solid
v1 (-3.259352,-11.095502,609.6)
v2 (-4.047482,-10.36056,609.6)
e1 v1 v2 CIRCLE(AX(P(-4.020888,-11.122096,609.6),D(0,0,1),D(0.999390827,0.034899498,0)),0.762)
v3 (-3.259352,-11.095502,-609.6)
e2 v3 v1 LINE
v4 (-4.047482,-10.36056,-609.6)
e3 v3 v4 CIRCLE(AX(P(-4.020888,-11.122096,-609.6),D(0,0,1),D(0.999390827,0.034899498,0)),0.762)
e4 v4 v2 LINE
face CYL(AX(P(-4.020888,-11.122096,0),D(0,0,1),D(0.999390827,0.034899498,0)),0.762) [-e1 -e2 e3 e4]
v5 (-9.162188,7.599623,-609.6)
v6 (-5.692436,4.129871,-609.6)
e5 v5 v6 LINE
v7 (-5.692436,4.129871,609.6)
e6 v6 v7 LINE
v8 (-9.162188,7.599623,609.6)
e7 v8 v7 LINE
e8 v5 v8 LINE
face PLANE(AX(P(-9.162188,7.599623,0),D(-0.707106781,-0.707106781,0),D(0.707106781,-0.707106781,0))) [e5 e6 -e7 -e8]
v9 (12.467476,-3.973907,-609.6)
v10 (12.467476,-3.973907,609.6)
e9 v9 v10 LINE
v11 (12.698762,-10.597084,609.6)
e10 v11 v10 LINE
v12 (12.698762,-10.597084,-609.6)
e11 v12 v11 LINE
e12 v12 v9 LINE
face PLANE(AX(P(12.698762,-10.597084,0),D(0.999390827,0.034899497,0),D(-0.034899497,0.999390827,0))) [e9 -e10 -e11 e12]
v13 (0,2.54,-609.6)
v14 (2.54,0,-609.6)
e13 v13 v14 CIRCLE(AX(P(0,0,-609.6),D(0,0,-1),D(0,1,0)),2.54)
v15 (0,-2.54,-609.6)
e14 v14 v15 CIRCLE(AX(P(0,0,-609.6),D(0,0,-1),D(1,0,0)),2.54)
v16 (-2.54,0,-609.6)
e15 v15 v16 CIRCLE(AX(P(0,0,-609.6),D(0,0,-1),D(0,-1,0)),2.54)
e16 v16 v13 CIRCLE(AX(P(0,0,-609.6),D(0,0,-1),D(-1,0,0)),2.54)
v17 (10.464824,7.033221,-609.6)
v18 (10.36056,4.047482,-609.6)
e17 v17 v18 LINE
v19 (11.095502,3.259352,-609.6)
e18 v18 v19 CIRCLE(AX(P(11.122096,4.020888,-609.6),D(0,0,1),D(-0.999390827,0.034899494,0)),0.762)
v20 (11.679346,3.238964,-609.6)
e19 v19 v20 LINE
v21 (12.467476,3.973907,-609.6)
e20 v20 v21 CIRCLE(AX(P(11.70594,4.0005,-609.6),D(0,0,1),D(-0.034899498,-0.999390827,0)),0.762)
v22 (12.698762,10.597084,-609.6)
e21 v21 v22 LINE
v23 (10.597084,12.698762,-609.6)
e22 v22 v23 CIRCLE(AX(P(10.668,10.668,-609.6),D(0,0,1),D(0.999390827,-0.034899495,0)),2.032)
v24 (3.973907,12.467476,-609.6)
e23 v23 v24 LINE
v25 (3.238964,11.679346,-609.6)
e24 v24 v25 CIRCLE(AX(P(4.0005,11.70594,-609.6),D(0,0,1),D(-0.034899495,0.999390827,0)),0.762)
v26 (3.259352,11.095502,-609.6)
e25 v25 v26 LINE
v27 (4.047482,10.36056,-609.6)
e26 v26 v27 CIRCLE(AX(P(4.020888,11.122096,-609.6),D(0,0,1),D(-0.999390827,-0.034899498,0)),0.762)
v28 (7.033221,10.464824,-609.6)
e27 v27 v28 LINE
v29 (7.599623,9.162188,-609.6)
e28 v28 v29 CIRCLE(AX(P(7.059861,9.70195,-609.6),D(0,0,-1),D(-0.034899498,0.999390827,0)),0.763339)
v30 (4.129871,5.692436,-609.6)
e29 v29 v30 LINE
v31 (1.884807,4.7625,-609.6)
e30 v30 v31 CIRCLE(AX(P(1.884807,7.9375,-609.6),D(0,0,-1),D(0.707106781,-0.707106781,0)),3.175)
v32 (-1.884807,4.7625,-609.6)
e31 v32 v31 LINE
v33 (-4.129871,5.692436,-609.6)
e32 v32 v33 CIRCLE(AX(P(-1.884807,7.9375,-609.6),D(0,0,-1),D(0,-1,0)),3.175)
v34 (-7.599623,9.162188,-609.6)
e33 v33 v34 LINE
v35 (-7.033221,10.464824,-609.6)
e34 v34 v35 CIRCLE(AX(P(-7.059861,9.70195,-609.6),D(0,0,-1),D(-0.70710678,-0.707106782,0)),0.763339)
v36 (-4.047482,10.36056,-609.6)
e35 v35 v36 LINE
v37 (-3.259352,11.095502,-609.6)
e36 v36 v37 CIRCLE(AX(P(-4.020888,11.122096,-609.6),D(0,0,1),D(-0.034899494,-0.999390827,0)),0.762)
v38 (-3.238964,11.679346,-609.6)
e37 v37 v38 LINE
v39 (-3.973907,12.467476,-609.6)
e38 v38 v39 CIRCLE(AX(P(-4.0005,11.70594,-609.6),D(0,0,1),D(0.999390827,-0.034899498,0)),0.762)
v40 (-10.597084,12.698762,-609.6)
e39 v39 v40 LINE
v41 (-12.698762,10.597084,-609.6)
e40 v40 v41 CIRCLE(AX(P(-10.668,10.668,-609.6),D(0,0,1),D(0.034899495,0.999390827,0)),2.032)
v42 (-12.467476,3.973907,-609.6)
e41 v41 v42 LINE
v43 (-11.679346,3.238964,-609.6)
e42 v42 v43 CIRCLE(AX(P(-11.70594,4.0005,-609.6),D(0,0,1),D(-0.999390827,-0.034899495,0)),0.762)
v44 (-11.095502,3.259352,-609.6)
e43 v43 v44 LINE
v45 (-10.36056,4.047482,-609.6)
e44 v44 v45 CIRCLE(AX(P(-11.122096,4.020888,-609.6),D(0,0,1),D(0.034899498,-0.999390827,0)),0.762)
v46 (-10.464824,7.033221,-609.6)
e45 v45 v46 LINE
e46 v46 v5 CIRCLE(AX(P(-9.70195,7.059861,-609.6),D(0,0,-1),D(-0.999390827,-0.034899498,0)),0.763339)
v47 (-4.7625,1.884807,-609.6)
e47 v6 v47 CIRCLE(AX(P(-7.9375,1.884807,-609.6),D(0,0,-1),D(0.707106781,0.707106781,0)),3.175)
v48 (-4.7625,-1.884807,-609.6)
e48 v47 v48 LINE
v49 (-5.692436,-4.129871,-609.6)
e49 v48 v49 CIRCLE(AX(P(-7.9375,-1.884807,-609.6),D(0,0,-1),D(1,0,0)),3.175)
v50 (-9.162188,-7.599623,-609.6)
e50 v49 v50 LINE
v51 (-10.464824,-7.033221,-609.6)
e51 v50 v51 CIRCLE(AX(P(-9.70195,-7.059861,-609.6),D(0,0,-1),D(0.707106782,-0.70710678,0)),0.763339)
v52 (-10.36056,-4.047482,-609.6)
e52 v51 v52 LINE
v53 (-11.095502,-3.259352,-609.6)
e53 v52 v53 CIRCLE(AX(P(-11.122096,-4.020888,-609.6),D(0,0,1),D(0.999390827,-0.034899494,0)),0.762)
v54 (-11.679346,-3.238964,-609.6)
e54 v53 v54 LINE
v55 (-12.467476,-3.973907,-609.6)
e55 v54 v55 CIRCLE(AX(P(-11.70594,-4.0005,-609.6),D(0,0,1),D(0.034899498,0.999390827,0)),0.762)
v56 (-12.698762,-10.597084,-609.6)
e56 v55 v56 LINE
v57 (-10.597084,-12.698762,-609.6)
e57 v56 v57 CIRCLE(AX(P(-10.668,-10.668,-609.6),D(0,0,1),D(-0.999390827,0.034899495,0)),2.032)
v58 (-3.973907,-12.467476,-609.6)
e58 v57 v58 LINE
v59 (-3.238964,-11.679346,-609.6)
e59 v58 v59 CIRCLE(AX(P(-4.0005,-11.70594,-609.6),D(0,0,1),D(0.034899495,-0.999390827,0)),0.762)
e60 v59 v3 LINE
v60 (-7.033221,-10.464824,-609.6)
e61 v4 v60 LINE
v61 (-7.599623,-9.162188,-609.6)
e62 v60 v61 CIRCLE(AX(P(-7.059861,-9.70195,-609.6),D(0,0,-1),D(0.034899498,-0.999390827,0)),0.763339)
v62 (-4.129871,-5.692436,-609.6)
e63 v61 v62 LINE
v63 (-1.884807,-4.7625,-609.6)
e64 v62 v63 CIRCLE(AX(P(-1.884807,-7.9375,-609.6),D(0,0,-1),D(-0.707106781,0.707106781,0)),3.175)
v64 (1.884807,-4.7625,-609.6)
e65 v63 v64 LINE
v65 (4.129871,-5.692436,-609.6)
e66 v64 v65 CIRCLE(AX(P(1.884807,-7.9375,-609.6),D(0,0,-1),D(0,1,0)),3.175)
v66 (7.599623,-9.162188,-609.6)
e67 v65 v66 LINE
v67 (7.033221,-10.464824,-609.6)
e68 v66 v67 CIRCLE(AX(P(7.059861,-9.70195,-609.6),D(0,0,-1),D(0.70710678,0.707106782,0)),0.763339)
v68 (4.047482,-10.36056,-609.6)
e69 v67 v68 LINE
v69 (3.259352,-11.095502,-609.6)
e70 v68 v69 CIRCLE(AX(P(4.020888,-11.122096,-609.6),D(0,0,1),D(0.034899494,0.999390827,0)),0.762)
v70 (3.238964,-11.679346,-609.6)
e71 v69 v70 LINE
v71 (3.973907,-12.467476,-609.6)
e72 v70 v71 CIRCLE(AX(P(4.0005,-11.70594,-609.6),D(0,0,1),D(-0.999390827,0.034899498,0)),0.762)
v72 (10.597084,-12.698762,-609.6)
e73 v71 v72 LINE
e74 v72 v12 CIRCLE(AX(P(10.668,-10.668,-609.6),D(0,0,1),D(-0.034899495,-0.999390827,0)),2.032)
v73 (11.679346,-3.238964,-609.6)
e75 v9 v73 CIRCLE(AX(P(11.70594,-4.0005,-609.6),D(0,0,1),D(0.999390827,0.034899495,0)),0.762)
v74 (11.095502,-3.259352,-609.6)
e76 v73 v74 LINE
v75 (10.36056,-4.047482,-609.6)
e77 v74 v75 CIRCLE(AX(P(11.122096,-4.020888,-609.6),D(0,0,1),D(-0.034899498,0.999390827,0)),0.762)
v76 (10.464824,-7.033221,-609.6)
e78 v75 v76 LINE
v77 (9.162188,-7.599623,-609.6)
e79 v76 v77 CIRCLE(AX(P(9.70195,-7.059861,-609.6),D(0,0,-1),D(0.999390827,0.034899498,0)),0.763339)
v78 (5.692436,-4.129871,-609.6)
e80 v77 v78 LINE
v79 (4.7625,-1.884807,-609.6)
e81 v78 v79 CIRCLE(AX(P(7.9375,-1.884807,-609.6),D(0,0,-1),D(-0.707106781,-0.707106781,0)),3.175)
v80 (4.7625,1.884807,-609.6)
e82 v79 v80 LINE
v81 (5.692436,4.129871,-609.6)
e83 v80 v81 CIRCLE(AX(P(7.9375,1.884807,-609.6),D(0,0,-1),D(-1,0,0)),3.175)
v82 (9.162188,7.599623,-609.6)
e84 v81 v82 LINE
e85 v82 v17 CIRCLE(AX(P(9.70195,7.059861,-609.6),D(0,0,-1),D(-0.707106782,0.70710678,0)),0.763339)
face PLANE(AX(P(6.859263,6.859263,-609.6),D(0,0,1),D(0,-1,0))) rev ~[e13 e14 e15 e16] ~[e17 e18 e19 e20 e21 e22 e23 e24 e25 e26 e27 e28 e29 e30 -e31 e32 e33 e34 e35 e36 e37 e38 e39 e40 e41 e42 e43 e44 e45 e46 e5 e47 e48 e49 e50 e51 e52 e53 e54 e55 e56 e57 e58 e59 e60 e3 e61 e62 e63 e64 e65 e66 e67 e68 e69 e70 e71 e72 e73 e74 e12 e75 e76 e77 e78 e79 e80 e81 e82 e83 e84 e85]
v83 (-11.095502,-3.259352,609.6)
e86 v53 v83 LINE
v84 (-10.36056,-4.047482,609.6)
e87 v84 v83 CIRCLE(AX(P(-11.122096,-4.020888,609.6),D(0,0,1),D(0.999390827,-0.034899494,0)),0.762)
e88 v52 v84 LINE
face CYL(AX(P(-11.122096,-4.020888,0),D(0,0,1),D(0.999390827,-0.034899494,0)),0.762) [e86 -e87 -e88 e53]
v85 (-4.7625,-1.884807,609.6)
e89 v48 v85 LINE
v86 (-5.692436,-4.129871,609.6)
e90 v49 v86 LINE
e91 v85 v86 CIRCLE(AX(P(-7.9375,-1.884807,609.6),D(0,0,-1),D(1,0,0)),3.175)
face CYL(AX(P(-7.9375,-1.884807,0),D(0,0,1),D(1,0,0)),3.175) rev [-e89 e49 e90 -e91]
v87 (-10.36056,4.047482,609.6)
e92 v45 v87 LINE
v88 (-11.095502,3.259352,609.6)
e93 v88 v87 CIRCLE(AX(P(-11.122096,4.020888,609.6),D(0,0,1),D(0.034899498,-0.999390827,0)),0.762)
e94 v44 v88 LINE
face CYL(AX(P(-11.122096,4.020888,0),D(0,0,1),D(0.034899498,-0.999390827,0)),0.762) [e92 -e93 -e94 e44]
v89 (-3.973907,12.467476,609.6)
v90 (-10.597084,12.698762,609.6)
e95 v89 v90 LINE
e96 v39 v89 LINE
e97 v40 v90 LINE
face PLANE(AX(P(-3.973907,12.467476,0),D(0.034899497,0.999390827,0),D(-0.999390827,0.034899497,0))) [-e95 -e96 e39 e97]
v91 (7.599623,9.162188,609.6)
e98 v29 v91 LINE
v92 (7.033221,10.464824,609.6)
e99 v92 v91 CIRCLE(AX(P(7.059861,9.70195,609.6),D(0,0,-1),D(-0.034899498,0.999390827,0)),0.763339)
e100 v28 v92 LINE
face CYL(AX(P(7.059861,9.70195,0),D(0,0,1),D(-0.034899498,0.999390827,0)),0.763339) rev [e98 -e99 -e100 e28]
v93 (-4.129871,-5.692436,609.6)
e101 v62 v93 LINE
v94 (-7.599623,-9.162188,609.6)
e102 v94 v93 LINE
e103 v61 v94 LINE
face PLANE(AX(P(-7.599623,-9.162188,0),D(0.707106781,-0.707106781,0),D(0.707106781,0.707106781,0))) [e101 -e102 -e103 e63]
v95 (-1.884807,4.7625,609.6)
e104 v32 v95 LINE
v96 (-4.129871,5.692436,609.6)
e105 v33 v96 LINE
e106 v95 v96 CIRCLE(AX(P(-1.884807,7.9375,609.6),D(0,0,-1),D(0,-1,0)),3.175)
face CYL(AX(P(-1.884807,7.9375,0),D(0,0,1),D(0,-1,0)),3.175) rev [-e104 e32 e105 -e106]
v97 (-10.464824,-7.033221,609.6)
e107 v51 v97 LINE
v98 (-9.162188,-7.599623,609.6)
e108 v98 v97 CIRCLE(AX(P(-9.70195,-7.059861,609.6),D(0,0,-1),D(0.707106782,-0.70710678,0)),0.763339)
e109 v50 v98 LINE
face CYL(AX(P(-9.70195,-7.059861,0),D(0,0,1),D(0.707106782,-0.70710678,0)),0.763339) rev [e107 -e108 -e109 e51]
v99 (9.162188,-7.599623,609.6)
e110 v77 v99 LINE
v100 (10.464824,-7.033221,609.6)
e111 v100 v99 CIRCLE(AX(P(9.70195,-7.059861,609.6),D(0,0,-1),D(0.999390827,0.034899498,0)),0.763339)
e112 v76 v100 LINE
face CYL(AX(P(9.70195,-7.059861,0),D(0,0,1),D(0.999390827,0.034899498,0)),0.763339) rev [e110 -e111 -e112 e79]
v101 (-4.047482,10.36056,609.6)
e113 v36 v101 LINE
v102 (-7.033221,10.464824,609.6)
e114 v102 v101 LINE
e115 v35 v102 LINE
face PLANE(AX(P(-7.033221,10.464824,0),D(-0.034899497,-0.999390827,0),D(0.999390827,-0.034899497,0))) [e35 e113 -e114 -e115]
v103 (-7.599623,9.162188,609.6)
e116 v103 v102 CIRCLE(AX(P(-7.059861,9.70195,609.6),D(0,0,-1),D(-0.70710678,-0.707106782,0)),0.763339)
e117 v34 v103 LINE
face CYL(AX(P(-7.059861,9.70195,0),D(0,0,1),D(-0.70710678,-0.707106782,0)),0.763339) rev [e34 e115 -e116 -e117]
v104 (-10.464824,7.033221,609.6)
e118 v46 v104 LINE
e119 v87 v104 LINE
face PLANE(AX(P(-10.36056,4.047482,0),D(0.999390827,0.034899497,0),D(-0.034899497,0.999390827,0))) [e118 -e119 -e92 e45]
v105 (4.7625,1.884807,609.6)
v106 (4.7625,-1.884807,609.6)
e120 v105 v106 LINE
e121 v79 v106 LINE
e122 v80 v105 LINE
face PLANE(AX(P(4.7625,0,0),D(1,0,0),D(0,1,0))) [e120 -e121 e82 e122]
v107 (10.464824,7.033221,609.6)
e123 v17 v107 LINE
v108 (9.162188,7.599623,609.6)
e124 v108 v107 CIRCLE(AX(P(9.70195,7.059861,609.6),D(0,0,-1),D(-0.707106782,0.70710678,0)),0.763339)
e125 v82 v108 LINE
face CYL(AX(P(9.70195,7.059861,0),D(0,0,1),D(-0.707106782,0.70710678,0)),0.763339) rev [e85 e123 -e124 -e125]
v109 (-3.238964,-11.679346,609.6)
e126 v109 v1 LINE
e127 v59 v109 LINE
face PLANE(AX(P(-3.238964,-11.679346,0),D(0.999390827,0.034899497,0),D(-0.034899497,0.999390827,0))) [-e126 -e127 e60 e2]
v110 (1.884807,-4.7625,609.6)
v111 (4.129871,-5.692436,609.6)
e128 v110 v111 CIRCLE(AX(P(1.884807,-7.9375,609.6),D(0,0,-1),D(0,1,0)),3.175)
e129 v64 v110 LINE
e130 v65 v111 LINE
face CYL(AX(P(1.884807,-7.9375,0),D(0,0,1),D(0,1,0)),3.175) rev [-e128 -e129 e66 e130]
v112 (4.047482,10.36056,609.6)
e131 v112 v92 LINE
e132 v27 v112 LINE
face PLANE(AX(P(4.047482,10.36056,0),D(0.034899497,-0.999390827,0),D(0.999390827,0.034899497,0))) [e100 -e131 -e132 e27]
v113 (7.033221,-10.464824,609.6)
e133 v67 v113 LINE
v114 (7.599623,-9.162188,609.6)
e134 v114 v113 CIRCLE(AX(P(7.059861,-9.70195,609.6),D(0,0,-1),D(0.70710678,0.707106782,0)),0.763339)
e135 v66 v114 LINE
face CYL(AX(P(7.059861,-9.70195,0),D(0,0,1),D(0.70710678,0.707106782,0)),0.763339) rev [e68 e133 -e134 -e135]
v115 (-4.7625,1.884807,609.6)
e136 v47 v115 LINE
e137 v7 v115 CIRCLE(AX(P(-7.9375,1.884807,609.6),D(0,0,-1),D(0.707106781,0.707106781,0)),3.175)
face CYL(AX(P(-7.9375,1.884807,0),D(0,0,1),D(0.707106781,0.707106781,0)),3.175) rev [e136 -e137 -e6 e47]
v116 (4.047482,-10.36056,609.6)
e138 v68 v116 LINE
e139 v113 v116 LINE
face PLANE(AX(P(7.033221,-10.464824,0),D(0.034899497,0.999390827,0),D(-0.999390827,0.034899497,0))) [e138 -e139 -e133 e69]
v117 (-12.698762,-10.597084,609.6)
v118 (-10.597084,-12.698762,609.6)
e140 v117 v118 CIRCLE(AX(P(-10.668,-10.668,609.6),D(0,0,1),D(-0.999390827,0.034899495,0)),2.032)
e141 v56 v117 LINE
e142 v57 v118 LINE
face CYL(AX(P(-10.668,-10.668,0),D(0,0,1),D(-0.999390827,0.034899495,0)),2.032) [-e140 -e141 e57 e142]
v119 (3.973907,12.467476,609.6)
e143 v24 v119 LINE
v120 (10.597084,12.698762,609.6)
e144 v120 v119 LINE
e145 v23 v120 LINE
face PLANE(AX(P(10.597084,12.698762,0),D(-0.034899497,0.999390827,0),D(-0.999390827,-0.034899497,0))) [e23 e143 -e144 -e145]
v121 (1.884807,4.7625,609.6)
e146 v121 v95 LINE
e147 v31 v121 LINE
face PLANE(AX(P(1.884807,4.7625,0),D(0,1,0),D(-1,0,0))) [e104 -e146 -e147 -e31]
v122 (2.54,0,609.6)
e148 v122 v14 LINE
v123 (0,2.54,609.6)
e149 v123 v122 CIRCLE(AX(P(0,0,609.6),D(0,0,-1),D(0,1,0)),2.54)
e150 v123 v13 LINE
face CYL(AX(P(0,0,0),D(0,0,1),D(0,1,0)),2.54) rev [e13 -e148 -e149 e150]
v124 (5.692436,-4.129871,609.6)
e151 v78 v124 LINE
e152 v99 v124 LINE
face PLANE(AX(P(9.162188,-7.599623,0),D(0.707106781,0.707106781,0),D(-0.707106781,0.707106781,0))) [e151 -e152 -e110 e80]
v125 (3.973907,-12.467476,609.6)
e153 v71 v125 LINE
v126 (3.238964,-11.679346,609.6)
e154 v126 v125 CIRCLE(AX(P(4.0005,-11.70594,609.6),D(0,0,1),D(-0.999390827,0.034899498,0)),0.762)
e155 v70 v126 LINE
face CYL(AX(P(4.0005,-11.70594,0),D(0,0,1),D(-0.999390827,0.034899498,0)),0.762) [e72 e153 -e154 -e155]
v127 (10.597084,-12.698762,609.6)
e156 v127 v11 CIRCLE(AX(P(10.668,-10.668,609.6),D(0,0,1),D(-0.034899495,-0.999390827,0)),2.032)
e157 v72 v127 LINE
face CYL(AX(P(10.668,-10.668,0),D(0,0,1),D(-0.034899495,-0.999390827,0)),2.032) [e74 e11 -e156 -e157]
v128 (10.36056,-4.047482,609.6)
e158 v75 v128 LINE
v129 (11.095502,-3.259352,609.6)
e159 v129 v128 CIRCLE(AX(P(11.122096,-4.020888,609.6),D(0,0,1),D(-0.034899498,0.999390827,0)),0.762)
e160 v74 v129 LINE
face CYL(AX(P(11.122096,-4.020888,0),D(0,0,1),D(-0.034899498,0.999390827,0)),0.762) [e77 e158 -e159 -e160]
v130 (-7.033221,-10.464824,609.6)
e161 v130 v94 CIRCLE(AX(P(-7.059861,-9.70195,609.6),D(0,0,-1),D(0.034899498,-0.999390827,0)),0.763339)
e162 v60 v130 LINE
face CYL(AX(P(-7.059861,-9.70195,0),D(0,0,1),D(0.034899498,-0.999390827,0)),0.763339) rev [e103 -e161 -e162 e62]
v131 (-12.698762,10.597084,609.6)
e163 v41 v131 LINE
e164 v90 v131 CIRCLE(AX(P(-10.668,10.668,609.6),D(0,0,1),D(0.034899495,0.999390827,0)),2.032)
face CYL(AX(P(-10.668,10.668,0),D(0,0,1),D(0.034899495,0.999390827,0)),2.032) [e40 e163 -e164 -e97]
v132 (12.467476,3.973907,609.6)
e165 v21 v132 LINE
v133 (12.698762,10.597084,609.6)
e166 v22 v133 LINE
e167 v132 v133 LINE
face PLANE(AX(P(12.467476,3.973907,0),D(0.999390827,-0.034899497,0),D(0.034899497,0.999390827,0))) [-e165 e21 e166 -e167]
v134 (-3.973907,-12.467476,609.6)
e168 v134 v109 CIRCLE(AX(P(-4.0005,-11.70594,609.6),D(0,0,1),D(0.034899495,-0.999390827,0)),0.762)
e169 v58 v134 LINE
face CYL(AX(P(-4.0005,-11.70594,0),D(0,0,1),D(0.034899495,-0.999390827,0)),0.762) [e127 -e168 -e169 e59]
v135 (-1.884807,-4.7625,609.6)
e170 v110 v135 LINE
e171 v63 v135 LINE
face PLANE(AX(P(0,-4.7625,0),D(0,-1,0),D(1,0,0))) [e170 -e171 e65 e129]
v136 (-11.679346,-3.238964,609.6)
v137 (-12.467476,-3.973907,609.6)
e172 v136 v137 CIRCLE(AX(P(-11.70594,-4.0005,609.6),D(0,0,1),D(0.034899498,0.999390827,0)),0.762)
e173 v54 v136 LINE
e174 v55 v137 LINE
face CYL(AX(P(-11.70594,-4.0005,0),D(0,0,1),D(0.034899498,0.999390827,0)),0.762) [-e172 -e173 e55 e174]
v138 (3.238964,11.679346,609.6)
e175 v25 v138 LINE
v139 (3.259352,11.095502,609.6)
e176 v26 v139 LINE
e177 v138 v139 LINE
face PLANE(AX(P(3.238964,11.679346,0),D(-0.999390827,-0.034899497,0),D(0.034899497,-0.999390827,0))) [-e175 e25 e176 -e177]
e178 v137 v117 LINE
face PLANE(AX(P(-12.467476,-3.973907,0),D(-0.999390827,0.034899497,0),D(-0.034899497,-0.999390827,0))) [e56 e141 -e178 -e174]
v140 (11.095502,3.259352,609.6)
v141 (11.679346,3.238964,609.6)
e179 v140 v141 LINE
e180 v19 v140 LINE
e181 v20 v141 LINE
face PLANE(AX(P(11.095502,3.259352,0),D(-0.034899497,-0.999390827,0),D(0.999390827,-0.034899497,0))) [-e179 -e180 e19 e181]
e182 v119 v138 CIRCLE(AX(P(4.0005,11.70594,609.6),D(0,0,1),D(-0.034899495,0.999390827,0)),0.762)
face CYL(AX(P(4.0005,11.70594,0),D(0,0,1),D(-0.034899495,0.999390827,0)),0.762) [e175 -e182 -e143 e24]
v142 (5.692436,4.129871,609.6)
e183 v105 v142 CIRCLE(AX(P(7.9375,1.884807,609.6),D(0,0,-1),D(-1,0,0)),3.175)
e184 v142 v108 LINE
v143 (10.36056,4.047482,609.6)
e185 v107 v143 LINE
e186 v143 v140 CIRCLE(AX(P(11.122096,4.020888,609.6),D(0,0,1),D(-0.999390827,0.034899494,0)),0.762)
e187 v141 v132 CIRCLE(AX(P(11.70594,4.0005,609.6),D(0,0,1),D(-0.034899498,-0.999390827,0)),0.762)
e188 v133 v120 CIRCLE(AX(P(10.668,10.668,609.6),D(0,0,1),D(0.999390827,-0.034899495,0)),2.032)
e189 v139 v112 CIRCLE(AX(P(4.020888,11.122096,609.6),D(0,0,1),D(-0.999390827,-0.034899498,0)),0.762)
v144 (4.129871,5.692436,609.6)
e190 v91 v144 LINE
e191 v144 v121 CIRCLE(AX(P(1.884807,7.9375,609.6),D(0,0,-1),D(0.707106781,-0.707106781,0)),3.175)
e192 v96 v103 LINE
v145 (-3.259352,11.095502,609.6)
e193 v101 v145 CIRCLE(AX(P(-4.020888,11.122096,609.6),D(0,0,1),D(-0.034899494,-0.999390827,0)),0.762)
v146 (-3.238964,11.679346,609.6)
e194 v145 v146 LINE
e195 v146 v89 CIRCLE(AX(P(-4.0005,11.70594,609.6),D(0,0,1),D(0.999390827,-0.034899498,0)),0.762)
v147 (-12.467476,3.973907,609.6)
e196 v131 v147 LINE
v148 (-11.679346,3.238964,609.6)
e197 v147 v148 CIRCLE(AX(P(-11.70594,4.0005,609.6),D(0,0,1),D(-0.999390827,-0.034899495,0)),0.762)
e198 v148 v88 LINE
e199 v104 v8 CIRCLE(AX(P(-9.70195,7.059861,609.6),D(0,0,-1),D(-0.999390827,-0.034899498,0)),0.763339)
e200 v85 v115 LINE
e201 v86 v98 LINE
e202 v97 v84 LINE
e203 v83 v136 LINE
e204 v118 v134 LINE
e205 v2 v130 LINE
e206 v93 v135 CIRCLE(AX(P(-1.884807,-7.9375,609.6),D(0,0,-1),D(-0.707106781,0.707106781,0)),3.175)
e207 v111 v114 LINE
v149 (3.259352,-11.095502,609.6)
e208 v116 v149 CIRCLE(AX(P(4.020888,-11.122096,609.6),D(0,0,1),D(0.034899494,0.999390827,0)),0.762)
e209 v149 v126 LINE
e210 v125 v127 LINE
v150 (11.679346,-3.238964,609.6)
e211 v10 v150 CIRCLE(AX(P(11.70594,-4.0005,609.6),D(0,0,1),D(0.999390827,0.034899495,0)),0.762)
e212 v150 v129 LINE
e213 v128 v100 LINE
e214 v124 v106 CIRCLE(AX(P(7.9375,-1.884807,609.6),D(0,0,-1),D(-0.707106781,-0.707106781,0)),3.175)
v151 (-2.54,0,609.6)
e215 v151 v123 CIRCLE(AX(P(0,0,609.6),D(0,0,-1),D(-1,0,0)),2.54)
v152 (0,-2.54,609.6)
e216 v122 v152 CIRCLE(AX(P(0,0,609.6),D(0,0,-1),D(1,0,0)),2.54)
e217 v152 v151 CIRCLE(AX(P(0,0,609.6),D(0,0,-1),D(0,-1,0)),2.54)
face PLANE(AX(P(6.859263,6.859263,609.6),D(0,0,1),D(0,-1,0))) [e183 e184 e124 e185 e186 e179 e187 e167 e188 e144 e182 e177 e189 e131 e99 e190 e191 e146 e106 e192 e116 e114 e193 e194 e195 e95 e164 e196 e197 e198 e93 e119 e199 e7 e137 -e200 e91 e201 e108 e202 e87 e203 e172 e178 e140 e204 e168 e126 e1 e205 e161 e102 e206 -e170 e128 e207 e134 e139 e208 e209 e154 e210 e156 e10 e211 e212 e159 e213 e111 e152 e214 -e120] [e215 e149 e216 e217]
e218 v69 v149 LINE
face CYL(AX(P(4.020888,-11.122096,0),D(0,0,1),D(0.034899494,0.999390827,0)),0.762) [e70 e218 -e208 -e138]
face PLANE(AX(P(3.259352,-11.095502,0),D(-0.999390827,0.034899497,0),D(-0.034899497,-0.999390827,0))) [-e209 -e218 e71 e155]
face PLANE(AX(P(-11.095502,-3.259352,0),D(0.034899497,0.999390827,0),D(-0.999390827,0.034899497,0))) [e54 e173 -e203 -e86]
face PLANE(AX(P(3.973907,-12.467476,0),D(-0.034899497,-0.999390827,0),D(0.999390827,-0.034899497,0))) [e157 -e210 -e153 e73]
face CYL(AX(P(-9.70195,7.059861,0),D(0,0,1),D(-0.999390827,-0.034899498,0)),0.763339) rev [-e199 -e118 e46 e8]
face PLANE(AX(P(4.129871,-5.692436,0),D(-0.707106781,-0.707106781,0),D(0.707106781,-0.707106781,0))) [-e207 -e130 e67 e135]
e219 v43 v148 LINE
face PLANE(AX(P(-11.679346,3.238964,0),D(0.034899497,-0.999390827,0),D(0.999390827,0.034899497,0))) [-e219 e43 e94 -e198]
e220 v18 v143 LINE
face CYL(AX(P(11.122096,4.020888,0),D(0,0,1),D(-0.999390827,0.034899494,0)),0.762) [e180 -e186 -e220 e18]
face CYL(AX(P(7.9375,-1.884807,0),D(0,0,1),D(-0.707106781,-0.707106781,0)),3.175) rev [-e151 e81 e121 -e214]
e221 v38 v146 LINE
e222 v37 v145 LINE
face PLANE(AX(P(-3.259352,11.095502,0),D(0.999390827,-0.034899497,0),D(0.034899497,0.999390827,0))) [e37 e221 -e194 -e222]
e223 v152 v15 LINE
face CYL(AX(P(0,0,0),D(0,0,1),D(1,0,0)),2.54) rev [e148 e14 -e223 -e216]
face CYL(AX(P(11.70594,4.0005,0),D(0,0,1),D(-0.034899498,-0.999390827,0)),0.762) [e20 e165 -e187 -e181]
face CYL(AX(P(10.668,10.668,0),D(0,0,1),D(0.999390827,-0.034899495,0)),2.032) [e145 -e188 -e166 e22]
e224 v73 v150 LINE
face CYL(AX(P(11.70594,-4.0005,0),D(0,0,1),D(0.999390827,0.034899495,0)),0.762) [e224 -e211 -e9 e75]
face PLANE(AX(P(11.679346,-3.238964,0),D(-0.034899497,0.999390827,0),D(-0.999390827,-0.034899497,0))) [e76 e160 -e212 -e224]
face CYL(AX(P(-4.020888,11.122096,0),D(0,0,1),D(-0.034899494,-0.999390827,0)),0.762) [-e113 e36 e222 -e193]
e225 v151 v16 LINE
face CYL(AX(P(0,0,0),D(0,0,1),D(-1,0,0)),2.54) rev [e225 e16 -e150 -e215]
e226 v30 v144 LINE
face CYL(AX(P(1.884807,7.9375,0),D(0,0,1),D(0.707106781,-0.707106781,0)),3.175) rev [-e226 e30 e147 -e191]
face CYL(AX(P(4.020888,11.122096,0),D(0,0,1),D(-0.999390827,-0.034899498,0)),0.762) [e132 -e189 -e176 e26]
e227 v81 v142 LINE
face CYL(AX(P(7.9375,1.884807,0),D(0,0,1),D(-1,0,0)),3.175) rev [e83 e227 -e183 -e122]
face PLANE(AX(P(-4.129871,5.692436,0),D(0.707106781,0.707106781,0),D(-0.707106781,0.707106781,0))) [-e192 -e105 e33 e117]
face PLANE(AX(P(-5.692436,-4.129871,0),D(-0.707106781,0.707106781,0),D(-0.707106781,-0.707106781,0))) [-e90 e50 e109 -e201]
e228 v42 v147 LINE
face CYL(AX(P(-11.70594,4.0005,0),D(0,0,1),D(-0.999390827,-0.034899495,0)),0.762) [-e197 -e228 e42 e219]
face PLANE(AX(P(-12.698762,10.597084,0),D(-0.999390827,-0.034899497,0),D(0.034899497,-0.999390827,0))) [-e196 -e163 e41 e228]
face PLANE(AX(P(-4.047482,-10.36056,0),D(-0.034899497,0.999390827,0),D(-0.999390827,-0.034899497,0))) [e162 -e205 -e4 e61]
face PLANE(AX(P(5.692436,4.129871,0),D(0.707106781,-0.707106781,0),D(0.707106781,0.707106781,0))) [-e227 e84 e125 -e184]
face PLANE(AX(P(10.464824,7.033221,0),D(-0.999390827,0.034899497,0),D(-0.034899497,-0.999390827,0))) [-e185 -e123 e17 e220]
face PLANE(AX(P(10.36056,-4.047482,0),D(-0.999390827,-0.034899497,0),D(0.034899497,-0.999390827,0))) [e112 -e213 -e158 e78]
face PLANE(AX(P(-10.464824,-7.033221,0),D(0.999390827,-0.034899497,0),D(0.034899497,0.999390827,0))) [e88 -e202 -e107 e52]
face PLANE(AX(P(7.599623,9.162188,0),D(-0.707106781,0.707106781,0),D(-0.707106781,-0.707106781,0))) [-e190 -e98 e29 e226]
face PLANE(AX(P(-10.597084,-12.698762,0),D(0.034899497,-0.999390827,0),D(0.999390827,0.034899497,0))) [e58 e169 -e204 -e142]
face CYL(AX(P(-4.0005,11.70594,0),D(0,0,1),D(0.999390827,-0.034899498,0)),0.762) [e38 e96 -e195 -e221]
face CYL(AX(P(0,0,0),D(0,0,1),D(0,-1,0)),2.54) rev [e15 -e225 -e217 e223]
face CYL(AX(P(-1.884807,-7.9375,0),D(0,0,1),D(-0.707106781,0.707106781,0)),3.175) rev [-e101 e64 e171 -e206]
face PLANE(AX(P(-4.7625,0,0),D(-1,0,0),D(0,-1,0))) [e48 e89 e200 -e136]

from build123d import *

# Parameters (mm, degrees)
BOSS_EXTRUDE1_DEPTH = 609.6
CIRPATTERN1_COUNT   = 4


with BuildPart() as part:
    # Sketch3 → Boss-Extrude1 (new, symmetric)
    with BuildSketch(Plane.XY):
        with BuildLine():
            Line((0, 4.7625), (-1.884807374, 4.7625))
            ThreePointArc((-1.884807374, 4.7625), (-3.099827272, 5.004182484), (-4.129871405, 5.69243597))
            Line((-4.129871405, 5.69243597), (-7.599623114, 9.162187679))
            ThreePointArc((-7.599623114, 9.162187679), (-7.759888701, 10.006330839), (-7.033220609, 10.464824259))
            Line((-7.033220609, 10.464824259), (-4.047481702, 10.360559959))
            ThreePointArc((-4.047481702, 10.360559959), (-3.501205536, 10.564804249), (-3.259352476, 11.095502353))
            Line((-3.259352476, 11.095502353), (-3.23896419, 11.679346474))
            ThreePointArc((-3.23896419, 11.679346474), (-3.443208479, 12.225622641), (-3.973906584, 12.467475701))
            Line((-3.973906584, 12.467475701), (-10.597084223, 12.698762161))
            ThreePointArc((-10.597084223, 12.698762161), (-12.104840979, 12.104840979), (-12.698762161, 10.597084223))
            Line((-12.698762161, 10.597084223), (-12.467475701, 3.973906584))
            ThreePointArc((-12.467475701, 3.973906584), (-12.225622641, 3.443208479), (-11.679346474, 3.23896419))
            Line((-11.679346474, 3.23896419), (-11.095502353, 3.259352476))
            ThreePointArc((-11.095502353, 3.259352476), (-10.564804249, 3.501205536), (-10.360559959, 4.047481702))
            Line((-10.360559959, 4.047481702), (-10.464824259, 7.033220609))
            ThreePointArc((-10.464824259, 7.033220609), (-10.006330839, 7.759888701), (-9.162187679, 7.599623114))
            Line((-9.162187679, 7.599623114), (-5.69243597, 4.129871405))
            ThreePointArc((-5.69243597, 4.129871405), (-5.004182484, 3.099827272), (-4.7625, 1.884807374))
            Line((-4.7625, 1.884807374), (-4.7625, 0))
            Line((-4.7625, 0), (-2.54, 0))
            ThreePointArc((-2.54, 0), (-1.796051224, 1.796051224), (0, 2.54))
            Line((0, 2.54), (0, 4.7625))
        make_face()
    boss_extrude1 = extrude(amount=BOSS_EXTRUDE1_DEPTH, both=True)

    # CirPattern1: Boss-Extrude1 ×4 about axis
    cirpattern1_axis = Axis((0, 0, 0), (0, 0, 1))
    for i in range(1, CIRPATTERN1_COUNT):
        add(boss_extrude1.rotate(cirpattern1_axis, i * 360 / CIRPATTERN1_COUNT))


solid = part.part
